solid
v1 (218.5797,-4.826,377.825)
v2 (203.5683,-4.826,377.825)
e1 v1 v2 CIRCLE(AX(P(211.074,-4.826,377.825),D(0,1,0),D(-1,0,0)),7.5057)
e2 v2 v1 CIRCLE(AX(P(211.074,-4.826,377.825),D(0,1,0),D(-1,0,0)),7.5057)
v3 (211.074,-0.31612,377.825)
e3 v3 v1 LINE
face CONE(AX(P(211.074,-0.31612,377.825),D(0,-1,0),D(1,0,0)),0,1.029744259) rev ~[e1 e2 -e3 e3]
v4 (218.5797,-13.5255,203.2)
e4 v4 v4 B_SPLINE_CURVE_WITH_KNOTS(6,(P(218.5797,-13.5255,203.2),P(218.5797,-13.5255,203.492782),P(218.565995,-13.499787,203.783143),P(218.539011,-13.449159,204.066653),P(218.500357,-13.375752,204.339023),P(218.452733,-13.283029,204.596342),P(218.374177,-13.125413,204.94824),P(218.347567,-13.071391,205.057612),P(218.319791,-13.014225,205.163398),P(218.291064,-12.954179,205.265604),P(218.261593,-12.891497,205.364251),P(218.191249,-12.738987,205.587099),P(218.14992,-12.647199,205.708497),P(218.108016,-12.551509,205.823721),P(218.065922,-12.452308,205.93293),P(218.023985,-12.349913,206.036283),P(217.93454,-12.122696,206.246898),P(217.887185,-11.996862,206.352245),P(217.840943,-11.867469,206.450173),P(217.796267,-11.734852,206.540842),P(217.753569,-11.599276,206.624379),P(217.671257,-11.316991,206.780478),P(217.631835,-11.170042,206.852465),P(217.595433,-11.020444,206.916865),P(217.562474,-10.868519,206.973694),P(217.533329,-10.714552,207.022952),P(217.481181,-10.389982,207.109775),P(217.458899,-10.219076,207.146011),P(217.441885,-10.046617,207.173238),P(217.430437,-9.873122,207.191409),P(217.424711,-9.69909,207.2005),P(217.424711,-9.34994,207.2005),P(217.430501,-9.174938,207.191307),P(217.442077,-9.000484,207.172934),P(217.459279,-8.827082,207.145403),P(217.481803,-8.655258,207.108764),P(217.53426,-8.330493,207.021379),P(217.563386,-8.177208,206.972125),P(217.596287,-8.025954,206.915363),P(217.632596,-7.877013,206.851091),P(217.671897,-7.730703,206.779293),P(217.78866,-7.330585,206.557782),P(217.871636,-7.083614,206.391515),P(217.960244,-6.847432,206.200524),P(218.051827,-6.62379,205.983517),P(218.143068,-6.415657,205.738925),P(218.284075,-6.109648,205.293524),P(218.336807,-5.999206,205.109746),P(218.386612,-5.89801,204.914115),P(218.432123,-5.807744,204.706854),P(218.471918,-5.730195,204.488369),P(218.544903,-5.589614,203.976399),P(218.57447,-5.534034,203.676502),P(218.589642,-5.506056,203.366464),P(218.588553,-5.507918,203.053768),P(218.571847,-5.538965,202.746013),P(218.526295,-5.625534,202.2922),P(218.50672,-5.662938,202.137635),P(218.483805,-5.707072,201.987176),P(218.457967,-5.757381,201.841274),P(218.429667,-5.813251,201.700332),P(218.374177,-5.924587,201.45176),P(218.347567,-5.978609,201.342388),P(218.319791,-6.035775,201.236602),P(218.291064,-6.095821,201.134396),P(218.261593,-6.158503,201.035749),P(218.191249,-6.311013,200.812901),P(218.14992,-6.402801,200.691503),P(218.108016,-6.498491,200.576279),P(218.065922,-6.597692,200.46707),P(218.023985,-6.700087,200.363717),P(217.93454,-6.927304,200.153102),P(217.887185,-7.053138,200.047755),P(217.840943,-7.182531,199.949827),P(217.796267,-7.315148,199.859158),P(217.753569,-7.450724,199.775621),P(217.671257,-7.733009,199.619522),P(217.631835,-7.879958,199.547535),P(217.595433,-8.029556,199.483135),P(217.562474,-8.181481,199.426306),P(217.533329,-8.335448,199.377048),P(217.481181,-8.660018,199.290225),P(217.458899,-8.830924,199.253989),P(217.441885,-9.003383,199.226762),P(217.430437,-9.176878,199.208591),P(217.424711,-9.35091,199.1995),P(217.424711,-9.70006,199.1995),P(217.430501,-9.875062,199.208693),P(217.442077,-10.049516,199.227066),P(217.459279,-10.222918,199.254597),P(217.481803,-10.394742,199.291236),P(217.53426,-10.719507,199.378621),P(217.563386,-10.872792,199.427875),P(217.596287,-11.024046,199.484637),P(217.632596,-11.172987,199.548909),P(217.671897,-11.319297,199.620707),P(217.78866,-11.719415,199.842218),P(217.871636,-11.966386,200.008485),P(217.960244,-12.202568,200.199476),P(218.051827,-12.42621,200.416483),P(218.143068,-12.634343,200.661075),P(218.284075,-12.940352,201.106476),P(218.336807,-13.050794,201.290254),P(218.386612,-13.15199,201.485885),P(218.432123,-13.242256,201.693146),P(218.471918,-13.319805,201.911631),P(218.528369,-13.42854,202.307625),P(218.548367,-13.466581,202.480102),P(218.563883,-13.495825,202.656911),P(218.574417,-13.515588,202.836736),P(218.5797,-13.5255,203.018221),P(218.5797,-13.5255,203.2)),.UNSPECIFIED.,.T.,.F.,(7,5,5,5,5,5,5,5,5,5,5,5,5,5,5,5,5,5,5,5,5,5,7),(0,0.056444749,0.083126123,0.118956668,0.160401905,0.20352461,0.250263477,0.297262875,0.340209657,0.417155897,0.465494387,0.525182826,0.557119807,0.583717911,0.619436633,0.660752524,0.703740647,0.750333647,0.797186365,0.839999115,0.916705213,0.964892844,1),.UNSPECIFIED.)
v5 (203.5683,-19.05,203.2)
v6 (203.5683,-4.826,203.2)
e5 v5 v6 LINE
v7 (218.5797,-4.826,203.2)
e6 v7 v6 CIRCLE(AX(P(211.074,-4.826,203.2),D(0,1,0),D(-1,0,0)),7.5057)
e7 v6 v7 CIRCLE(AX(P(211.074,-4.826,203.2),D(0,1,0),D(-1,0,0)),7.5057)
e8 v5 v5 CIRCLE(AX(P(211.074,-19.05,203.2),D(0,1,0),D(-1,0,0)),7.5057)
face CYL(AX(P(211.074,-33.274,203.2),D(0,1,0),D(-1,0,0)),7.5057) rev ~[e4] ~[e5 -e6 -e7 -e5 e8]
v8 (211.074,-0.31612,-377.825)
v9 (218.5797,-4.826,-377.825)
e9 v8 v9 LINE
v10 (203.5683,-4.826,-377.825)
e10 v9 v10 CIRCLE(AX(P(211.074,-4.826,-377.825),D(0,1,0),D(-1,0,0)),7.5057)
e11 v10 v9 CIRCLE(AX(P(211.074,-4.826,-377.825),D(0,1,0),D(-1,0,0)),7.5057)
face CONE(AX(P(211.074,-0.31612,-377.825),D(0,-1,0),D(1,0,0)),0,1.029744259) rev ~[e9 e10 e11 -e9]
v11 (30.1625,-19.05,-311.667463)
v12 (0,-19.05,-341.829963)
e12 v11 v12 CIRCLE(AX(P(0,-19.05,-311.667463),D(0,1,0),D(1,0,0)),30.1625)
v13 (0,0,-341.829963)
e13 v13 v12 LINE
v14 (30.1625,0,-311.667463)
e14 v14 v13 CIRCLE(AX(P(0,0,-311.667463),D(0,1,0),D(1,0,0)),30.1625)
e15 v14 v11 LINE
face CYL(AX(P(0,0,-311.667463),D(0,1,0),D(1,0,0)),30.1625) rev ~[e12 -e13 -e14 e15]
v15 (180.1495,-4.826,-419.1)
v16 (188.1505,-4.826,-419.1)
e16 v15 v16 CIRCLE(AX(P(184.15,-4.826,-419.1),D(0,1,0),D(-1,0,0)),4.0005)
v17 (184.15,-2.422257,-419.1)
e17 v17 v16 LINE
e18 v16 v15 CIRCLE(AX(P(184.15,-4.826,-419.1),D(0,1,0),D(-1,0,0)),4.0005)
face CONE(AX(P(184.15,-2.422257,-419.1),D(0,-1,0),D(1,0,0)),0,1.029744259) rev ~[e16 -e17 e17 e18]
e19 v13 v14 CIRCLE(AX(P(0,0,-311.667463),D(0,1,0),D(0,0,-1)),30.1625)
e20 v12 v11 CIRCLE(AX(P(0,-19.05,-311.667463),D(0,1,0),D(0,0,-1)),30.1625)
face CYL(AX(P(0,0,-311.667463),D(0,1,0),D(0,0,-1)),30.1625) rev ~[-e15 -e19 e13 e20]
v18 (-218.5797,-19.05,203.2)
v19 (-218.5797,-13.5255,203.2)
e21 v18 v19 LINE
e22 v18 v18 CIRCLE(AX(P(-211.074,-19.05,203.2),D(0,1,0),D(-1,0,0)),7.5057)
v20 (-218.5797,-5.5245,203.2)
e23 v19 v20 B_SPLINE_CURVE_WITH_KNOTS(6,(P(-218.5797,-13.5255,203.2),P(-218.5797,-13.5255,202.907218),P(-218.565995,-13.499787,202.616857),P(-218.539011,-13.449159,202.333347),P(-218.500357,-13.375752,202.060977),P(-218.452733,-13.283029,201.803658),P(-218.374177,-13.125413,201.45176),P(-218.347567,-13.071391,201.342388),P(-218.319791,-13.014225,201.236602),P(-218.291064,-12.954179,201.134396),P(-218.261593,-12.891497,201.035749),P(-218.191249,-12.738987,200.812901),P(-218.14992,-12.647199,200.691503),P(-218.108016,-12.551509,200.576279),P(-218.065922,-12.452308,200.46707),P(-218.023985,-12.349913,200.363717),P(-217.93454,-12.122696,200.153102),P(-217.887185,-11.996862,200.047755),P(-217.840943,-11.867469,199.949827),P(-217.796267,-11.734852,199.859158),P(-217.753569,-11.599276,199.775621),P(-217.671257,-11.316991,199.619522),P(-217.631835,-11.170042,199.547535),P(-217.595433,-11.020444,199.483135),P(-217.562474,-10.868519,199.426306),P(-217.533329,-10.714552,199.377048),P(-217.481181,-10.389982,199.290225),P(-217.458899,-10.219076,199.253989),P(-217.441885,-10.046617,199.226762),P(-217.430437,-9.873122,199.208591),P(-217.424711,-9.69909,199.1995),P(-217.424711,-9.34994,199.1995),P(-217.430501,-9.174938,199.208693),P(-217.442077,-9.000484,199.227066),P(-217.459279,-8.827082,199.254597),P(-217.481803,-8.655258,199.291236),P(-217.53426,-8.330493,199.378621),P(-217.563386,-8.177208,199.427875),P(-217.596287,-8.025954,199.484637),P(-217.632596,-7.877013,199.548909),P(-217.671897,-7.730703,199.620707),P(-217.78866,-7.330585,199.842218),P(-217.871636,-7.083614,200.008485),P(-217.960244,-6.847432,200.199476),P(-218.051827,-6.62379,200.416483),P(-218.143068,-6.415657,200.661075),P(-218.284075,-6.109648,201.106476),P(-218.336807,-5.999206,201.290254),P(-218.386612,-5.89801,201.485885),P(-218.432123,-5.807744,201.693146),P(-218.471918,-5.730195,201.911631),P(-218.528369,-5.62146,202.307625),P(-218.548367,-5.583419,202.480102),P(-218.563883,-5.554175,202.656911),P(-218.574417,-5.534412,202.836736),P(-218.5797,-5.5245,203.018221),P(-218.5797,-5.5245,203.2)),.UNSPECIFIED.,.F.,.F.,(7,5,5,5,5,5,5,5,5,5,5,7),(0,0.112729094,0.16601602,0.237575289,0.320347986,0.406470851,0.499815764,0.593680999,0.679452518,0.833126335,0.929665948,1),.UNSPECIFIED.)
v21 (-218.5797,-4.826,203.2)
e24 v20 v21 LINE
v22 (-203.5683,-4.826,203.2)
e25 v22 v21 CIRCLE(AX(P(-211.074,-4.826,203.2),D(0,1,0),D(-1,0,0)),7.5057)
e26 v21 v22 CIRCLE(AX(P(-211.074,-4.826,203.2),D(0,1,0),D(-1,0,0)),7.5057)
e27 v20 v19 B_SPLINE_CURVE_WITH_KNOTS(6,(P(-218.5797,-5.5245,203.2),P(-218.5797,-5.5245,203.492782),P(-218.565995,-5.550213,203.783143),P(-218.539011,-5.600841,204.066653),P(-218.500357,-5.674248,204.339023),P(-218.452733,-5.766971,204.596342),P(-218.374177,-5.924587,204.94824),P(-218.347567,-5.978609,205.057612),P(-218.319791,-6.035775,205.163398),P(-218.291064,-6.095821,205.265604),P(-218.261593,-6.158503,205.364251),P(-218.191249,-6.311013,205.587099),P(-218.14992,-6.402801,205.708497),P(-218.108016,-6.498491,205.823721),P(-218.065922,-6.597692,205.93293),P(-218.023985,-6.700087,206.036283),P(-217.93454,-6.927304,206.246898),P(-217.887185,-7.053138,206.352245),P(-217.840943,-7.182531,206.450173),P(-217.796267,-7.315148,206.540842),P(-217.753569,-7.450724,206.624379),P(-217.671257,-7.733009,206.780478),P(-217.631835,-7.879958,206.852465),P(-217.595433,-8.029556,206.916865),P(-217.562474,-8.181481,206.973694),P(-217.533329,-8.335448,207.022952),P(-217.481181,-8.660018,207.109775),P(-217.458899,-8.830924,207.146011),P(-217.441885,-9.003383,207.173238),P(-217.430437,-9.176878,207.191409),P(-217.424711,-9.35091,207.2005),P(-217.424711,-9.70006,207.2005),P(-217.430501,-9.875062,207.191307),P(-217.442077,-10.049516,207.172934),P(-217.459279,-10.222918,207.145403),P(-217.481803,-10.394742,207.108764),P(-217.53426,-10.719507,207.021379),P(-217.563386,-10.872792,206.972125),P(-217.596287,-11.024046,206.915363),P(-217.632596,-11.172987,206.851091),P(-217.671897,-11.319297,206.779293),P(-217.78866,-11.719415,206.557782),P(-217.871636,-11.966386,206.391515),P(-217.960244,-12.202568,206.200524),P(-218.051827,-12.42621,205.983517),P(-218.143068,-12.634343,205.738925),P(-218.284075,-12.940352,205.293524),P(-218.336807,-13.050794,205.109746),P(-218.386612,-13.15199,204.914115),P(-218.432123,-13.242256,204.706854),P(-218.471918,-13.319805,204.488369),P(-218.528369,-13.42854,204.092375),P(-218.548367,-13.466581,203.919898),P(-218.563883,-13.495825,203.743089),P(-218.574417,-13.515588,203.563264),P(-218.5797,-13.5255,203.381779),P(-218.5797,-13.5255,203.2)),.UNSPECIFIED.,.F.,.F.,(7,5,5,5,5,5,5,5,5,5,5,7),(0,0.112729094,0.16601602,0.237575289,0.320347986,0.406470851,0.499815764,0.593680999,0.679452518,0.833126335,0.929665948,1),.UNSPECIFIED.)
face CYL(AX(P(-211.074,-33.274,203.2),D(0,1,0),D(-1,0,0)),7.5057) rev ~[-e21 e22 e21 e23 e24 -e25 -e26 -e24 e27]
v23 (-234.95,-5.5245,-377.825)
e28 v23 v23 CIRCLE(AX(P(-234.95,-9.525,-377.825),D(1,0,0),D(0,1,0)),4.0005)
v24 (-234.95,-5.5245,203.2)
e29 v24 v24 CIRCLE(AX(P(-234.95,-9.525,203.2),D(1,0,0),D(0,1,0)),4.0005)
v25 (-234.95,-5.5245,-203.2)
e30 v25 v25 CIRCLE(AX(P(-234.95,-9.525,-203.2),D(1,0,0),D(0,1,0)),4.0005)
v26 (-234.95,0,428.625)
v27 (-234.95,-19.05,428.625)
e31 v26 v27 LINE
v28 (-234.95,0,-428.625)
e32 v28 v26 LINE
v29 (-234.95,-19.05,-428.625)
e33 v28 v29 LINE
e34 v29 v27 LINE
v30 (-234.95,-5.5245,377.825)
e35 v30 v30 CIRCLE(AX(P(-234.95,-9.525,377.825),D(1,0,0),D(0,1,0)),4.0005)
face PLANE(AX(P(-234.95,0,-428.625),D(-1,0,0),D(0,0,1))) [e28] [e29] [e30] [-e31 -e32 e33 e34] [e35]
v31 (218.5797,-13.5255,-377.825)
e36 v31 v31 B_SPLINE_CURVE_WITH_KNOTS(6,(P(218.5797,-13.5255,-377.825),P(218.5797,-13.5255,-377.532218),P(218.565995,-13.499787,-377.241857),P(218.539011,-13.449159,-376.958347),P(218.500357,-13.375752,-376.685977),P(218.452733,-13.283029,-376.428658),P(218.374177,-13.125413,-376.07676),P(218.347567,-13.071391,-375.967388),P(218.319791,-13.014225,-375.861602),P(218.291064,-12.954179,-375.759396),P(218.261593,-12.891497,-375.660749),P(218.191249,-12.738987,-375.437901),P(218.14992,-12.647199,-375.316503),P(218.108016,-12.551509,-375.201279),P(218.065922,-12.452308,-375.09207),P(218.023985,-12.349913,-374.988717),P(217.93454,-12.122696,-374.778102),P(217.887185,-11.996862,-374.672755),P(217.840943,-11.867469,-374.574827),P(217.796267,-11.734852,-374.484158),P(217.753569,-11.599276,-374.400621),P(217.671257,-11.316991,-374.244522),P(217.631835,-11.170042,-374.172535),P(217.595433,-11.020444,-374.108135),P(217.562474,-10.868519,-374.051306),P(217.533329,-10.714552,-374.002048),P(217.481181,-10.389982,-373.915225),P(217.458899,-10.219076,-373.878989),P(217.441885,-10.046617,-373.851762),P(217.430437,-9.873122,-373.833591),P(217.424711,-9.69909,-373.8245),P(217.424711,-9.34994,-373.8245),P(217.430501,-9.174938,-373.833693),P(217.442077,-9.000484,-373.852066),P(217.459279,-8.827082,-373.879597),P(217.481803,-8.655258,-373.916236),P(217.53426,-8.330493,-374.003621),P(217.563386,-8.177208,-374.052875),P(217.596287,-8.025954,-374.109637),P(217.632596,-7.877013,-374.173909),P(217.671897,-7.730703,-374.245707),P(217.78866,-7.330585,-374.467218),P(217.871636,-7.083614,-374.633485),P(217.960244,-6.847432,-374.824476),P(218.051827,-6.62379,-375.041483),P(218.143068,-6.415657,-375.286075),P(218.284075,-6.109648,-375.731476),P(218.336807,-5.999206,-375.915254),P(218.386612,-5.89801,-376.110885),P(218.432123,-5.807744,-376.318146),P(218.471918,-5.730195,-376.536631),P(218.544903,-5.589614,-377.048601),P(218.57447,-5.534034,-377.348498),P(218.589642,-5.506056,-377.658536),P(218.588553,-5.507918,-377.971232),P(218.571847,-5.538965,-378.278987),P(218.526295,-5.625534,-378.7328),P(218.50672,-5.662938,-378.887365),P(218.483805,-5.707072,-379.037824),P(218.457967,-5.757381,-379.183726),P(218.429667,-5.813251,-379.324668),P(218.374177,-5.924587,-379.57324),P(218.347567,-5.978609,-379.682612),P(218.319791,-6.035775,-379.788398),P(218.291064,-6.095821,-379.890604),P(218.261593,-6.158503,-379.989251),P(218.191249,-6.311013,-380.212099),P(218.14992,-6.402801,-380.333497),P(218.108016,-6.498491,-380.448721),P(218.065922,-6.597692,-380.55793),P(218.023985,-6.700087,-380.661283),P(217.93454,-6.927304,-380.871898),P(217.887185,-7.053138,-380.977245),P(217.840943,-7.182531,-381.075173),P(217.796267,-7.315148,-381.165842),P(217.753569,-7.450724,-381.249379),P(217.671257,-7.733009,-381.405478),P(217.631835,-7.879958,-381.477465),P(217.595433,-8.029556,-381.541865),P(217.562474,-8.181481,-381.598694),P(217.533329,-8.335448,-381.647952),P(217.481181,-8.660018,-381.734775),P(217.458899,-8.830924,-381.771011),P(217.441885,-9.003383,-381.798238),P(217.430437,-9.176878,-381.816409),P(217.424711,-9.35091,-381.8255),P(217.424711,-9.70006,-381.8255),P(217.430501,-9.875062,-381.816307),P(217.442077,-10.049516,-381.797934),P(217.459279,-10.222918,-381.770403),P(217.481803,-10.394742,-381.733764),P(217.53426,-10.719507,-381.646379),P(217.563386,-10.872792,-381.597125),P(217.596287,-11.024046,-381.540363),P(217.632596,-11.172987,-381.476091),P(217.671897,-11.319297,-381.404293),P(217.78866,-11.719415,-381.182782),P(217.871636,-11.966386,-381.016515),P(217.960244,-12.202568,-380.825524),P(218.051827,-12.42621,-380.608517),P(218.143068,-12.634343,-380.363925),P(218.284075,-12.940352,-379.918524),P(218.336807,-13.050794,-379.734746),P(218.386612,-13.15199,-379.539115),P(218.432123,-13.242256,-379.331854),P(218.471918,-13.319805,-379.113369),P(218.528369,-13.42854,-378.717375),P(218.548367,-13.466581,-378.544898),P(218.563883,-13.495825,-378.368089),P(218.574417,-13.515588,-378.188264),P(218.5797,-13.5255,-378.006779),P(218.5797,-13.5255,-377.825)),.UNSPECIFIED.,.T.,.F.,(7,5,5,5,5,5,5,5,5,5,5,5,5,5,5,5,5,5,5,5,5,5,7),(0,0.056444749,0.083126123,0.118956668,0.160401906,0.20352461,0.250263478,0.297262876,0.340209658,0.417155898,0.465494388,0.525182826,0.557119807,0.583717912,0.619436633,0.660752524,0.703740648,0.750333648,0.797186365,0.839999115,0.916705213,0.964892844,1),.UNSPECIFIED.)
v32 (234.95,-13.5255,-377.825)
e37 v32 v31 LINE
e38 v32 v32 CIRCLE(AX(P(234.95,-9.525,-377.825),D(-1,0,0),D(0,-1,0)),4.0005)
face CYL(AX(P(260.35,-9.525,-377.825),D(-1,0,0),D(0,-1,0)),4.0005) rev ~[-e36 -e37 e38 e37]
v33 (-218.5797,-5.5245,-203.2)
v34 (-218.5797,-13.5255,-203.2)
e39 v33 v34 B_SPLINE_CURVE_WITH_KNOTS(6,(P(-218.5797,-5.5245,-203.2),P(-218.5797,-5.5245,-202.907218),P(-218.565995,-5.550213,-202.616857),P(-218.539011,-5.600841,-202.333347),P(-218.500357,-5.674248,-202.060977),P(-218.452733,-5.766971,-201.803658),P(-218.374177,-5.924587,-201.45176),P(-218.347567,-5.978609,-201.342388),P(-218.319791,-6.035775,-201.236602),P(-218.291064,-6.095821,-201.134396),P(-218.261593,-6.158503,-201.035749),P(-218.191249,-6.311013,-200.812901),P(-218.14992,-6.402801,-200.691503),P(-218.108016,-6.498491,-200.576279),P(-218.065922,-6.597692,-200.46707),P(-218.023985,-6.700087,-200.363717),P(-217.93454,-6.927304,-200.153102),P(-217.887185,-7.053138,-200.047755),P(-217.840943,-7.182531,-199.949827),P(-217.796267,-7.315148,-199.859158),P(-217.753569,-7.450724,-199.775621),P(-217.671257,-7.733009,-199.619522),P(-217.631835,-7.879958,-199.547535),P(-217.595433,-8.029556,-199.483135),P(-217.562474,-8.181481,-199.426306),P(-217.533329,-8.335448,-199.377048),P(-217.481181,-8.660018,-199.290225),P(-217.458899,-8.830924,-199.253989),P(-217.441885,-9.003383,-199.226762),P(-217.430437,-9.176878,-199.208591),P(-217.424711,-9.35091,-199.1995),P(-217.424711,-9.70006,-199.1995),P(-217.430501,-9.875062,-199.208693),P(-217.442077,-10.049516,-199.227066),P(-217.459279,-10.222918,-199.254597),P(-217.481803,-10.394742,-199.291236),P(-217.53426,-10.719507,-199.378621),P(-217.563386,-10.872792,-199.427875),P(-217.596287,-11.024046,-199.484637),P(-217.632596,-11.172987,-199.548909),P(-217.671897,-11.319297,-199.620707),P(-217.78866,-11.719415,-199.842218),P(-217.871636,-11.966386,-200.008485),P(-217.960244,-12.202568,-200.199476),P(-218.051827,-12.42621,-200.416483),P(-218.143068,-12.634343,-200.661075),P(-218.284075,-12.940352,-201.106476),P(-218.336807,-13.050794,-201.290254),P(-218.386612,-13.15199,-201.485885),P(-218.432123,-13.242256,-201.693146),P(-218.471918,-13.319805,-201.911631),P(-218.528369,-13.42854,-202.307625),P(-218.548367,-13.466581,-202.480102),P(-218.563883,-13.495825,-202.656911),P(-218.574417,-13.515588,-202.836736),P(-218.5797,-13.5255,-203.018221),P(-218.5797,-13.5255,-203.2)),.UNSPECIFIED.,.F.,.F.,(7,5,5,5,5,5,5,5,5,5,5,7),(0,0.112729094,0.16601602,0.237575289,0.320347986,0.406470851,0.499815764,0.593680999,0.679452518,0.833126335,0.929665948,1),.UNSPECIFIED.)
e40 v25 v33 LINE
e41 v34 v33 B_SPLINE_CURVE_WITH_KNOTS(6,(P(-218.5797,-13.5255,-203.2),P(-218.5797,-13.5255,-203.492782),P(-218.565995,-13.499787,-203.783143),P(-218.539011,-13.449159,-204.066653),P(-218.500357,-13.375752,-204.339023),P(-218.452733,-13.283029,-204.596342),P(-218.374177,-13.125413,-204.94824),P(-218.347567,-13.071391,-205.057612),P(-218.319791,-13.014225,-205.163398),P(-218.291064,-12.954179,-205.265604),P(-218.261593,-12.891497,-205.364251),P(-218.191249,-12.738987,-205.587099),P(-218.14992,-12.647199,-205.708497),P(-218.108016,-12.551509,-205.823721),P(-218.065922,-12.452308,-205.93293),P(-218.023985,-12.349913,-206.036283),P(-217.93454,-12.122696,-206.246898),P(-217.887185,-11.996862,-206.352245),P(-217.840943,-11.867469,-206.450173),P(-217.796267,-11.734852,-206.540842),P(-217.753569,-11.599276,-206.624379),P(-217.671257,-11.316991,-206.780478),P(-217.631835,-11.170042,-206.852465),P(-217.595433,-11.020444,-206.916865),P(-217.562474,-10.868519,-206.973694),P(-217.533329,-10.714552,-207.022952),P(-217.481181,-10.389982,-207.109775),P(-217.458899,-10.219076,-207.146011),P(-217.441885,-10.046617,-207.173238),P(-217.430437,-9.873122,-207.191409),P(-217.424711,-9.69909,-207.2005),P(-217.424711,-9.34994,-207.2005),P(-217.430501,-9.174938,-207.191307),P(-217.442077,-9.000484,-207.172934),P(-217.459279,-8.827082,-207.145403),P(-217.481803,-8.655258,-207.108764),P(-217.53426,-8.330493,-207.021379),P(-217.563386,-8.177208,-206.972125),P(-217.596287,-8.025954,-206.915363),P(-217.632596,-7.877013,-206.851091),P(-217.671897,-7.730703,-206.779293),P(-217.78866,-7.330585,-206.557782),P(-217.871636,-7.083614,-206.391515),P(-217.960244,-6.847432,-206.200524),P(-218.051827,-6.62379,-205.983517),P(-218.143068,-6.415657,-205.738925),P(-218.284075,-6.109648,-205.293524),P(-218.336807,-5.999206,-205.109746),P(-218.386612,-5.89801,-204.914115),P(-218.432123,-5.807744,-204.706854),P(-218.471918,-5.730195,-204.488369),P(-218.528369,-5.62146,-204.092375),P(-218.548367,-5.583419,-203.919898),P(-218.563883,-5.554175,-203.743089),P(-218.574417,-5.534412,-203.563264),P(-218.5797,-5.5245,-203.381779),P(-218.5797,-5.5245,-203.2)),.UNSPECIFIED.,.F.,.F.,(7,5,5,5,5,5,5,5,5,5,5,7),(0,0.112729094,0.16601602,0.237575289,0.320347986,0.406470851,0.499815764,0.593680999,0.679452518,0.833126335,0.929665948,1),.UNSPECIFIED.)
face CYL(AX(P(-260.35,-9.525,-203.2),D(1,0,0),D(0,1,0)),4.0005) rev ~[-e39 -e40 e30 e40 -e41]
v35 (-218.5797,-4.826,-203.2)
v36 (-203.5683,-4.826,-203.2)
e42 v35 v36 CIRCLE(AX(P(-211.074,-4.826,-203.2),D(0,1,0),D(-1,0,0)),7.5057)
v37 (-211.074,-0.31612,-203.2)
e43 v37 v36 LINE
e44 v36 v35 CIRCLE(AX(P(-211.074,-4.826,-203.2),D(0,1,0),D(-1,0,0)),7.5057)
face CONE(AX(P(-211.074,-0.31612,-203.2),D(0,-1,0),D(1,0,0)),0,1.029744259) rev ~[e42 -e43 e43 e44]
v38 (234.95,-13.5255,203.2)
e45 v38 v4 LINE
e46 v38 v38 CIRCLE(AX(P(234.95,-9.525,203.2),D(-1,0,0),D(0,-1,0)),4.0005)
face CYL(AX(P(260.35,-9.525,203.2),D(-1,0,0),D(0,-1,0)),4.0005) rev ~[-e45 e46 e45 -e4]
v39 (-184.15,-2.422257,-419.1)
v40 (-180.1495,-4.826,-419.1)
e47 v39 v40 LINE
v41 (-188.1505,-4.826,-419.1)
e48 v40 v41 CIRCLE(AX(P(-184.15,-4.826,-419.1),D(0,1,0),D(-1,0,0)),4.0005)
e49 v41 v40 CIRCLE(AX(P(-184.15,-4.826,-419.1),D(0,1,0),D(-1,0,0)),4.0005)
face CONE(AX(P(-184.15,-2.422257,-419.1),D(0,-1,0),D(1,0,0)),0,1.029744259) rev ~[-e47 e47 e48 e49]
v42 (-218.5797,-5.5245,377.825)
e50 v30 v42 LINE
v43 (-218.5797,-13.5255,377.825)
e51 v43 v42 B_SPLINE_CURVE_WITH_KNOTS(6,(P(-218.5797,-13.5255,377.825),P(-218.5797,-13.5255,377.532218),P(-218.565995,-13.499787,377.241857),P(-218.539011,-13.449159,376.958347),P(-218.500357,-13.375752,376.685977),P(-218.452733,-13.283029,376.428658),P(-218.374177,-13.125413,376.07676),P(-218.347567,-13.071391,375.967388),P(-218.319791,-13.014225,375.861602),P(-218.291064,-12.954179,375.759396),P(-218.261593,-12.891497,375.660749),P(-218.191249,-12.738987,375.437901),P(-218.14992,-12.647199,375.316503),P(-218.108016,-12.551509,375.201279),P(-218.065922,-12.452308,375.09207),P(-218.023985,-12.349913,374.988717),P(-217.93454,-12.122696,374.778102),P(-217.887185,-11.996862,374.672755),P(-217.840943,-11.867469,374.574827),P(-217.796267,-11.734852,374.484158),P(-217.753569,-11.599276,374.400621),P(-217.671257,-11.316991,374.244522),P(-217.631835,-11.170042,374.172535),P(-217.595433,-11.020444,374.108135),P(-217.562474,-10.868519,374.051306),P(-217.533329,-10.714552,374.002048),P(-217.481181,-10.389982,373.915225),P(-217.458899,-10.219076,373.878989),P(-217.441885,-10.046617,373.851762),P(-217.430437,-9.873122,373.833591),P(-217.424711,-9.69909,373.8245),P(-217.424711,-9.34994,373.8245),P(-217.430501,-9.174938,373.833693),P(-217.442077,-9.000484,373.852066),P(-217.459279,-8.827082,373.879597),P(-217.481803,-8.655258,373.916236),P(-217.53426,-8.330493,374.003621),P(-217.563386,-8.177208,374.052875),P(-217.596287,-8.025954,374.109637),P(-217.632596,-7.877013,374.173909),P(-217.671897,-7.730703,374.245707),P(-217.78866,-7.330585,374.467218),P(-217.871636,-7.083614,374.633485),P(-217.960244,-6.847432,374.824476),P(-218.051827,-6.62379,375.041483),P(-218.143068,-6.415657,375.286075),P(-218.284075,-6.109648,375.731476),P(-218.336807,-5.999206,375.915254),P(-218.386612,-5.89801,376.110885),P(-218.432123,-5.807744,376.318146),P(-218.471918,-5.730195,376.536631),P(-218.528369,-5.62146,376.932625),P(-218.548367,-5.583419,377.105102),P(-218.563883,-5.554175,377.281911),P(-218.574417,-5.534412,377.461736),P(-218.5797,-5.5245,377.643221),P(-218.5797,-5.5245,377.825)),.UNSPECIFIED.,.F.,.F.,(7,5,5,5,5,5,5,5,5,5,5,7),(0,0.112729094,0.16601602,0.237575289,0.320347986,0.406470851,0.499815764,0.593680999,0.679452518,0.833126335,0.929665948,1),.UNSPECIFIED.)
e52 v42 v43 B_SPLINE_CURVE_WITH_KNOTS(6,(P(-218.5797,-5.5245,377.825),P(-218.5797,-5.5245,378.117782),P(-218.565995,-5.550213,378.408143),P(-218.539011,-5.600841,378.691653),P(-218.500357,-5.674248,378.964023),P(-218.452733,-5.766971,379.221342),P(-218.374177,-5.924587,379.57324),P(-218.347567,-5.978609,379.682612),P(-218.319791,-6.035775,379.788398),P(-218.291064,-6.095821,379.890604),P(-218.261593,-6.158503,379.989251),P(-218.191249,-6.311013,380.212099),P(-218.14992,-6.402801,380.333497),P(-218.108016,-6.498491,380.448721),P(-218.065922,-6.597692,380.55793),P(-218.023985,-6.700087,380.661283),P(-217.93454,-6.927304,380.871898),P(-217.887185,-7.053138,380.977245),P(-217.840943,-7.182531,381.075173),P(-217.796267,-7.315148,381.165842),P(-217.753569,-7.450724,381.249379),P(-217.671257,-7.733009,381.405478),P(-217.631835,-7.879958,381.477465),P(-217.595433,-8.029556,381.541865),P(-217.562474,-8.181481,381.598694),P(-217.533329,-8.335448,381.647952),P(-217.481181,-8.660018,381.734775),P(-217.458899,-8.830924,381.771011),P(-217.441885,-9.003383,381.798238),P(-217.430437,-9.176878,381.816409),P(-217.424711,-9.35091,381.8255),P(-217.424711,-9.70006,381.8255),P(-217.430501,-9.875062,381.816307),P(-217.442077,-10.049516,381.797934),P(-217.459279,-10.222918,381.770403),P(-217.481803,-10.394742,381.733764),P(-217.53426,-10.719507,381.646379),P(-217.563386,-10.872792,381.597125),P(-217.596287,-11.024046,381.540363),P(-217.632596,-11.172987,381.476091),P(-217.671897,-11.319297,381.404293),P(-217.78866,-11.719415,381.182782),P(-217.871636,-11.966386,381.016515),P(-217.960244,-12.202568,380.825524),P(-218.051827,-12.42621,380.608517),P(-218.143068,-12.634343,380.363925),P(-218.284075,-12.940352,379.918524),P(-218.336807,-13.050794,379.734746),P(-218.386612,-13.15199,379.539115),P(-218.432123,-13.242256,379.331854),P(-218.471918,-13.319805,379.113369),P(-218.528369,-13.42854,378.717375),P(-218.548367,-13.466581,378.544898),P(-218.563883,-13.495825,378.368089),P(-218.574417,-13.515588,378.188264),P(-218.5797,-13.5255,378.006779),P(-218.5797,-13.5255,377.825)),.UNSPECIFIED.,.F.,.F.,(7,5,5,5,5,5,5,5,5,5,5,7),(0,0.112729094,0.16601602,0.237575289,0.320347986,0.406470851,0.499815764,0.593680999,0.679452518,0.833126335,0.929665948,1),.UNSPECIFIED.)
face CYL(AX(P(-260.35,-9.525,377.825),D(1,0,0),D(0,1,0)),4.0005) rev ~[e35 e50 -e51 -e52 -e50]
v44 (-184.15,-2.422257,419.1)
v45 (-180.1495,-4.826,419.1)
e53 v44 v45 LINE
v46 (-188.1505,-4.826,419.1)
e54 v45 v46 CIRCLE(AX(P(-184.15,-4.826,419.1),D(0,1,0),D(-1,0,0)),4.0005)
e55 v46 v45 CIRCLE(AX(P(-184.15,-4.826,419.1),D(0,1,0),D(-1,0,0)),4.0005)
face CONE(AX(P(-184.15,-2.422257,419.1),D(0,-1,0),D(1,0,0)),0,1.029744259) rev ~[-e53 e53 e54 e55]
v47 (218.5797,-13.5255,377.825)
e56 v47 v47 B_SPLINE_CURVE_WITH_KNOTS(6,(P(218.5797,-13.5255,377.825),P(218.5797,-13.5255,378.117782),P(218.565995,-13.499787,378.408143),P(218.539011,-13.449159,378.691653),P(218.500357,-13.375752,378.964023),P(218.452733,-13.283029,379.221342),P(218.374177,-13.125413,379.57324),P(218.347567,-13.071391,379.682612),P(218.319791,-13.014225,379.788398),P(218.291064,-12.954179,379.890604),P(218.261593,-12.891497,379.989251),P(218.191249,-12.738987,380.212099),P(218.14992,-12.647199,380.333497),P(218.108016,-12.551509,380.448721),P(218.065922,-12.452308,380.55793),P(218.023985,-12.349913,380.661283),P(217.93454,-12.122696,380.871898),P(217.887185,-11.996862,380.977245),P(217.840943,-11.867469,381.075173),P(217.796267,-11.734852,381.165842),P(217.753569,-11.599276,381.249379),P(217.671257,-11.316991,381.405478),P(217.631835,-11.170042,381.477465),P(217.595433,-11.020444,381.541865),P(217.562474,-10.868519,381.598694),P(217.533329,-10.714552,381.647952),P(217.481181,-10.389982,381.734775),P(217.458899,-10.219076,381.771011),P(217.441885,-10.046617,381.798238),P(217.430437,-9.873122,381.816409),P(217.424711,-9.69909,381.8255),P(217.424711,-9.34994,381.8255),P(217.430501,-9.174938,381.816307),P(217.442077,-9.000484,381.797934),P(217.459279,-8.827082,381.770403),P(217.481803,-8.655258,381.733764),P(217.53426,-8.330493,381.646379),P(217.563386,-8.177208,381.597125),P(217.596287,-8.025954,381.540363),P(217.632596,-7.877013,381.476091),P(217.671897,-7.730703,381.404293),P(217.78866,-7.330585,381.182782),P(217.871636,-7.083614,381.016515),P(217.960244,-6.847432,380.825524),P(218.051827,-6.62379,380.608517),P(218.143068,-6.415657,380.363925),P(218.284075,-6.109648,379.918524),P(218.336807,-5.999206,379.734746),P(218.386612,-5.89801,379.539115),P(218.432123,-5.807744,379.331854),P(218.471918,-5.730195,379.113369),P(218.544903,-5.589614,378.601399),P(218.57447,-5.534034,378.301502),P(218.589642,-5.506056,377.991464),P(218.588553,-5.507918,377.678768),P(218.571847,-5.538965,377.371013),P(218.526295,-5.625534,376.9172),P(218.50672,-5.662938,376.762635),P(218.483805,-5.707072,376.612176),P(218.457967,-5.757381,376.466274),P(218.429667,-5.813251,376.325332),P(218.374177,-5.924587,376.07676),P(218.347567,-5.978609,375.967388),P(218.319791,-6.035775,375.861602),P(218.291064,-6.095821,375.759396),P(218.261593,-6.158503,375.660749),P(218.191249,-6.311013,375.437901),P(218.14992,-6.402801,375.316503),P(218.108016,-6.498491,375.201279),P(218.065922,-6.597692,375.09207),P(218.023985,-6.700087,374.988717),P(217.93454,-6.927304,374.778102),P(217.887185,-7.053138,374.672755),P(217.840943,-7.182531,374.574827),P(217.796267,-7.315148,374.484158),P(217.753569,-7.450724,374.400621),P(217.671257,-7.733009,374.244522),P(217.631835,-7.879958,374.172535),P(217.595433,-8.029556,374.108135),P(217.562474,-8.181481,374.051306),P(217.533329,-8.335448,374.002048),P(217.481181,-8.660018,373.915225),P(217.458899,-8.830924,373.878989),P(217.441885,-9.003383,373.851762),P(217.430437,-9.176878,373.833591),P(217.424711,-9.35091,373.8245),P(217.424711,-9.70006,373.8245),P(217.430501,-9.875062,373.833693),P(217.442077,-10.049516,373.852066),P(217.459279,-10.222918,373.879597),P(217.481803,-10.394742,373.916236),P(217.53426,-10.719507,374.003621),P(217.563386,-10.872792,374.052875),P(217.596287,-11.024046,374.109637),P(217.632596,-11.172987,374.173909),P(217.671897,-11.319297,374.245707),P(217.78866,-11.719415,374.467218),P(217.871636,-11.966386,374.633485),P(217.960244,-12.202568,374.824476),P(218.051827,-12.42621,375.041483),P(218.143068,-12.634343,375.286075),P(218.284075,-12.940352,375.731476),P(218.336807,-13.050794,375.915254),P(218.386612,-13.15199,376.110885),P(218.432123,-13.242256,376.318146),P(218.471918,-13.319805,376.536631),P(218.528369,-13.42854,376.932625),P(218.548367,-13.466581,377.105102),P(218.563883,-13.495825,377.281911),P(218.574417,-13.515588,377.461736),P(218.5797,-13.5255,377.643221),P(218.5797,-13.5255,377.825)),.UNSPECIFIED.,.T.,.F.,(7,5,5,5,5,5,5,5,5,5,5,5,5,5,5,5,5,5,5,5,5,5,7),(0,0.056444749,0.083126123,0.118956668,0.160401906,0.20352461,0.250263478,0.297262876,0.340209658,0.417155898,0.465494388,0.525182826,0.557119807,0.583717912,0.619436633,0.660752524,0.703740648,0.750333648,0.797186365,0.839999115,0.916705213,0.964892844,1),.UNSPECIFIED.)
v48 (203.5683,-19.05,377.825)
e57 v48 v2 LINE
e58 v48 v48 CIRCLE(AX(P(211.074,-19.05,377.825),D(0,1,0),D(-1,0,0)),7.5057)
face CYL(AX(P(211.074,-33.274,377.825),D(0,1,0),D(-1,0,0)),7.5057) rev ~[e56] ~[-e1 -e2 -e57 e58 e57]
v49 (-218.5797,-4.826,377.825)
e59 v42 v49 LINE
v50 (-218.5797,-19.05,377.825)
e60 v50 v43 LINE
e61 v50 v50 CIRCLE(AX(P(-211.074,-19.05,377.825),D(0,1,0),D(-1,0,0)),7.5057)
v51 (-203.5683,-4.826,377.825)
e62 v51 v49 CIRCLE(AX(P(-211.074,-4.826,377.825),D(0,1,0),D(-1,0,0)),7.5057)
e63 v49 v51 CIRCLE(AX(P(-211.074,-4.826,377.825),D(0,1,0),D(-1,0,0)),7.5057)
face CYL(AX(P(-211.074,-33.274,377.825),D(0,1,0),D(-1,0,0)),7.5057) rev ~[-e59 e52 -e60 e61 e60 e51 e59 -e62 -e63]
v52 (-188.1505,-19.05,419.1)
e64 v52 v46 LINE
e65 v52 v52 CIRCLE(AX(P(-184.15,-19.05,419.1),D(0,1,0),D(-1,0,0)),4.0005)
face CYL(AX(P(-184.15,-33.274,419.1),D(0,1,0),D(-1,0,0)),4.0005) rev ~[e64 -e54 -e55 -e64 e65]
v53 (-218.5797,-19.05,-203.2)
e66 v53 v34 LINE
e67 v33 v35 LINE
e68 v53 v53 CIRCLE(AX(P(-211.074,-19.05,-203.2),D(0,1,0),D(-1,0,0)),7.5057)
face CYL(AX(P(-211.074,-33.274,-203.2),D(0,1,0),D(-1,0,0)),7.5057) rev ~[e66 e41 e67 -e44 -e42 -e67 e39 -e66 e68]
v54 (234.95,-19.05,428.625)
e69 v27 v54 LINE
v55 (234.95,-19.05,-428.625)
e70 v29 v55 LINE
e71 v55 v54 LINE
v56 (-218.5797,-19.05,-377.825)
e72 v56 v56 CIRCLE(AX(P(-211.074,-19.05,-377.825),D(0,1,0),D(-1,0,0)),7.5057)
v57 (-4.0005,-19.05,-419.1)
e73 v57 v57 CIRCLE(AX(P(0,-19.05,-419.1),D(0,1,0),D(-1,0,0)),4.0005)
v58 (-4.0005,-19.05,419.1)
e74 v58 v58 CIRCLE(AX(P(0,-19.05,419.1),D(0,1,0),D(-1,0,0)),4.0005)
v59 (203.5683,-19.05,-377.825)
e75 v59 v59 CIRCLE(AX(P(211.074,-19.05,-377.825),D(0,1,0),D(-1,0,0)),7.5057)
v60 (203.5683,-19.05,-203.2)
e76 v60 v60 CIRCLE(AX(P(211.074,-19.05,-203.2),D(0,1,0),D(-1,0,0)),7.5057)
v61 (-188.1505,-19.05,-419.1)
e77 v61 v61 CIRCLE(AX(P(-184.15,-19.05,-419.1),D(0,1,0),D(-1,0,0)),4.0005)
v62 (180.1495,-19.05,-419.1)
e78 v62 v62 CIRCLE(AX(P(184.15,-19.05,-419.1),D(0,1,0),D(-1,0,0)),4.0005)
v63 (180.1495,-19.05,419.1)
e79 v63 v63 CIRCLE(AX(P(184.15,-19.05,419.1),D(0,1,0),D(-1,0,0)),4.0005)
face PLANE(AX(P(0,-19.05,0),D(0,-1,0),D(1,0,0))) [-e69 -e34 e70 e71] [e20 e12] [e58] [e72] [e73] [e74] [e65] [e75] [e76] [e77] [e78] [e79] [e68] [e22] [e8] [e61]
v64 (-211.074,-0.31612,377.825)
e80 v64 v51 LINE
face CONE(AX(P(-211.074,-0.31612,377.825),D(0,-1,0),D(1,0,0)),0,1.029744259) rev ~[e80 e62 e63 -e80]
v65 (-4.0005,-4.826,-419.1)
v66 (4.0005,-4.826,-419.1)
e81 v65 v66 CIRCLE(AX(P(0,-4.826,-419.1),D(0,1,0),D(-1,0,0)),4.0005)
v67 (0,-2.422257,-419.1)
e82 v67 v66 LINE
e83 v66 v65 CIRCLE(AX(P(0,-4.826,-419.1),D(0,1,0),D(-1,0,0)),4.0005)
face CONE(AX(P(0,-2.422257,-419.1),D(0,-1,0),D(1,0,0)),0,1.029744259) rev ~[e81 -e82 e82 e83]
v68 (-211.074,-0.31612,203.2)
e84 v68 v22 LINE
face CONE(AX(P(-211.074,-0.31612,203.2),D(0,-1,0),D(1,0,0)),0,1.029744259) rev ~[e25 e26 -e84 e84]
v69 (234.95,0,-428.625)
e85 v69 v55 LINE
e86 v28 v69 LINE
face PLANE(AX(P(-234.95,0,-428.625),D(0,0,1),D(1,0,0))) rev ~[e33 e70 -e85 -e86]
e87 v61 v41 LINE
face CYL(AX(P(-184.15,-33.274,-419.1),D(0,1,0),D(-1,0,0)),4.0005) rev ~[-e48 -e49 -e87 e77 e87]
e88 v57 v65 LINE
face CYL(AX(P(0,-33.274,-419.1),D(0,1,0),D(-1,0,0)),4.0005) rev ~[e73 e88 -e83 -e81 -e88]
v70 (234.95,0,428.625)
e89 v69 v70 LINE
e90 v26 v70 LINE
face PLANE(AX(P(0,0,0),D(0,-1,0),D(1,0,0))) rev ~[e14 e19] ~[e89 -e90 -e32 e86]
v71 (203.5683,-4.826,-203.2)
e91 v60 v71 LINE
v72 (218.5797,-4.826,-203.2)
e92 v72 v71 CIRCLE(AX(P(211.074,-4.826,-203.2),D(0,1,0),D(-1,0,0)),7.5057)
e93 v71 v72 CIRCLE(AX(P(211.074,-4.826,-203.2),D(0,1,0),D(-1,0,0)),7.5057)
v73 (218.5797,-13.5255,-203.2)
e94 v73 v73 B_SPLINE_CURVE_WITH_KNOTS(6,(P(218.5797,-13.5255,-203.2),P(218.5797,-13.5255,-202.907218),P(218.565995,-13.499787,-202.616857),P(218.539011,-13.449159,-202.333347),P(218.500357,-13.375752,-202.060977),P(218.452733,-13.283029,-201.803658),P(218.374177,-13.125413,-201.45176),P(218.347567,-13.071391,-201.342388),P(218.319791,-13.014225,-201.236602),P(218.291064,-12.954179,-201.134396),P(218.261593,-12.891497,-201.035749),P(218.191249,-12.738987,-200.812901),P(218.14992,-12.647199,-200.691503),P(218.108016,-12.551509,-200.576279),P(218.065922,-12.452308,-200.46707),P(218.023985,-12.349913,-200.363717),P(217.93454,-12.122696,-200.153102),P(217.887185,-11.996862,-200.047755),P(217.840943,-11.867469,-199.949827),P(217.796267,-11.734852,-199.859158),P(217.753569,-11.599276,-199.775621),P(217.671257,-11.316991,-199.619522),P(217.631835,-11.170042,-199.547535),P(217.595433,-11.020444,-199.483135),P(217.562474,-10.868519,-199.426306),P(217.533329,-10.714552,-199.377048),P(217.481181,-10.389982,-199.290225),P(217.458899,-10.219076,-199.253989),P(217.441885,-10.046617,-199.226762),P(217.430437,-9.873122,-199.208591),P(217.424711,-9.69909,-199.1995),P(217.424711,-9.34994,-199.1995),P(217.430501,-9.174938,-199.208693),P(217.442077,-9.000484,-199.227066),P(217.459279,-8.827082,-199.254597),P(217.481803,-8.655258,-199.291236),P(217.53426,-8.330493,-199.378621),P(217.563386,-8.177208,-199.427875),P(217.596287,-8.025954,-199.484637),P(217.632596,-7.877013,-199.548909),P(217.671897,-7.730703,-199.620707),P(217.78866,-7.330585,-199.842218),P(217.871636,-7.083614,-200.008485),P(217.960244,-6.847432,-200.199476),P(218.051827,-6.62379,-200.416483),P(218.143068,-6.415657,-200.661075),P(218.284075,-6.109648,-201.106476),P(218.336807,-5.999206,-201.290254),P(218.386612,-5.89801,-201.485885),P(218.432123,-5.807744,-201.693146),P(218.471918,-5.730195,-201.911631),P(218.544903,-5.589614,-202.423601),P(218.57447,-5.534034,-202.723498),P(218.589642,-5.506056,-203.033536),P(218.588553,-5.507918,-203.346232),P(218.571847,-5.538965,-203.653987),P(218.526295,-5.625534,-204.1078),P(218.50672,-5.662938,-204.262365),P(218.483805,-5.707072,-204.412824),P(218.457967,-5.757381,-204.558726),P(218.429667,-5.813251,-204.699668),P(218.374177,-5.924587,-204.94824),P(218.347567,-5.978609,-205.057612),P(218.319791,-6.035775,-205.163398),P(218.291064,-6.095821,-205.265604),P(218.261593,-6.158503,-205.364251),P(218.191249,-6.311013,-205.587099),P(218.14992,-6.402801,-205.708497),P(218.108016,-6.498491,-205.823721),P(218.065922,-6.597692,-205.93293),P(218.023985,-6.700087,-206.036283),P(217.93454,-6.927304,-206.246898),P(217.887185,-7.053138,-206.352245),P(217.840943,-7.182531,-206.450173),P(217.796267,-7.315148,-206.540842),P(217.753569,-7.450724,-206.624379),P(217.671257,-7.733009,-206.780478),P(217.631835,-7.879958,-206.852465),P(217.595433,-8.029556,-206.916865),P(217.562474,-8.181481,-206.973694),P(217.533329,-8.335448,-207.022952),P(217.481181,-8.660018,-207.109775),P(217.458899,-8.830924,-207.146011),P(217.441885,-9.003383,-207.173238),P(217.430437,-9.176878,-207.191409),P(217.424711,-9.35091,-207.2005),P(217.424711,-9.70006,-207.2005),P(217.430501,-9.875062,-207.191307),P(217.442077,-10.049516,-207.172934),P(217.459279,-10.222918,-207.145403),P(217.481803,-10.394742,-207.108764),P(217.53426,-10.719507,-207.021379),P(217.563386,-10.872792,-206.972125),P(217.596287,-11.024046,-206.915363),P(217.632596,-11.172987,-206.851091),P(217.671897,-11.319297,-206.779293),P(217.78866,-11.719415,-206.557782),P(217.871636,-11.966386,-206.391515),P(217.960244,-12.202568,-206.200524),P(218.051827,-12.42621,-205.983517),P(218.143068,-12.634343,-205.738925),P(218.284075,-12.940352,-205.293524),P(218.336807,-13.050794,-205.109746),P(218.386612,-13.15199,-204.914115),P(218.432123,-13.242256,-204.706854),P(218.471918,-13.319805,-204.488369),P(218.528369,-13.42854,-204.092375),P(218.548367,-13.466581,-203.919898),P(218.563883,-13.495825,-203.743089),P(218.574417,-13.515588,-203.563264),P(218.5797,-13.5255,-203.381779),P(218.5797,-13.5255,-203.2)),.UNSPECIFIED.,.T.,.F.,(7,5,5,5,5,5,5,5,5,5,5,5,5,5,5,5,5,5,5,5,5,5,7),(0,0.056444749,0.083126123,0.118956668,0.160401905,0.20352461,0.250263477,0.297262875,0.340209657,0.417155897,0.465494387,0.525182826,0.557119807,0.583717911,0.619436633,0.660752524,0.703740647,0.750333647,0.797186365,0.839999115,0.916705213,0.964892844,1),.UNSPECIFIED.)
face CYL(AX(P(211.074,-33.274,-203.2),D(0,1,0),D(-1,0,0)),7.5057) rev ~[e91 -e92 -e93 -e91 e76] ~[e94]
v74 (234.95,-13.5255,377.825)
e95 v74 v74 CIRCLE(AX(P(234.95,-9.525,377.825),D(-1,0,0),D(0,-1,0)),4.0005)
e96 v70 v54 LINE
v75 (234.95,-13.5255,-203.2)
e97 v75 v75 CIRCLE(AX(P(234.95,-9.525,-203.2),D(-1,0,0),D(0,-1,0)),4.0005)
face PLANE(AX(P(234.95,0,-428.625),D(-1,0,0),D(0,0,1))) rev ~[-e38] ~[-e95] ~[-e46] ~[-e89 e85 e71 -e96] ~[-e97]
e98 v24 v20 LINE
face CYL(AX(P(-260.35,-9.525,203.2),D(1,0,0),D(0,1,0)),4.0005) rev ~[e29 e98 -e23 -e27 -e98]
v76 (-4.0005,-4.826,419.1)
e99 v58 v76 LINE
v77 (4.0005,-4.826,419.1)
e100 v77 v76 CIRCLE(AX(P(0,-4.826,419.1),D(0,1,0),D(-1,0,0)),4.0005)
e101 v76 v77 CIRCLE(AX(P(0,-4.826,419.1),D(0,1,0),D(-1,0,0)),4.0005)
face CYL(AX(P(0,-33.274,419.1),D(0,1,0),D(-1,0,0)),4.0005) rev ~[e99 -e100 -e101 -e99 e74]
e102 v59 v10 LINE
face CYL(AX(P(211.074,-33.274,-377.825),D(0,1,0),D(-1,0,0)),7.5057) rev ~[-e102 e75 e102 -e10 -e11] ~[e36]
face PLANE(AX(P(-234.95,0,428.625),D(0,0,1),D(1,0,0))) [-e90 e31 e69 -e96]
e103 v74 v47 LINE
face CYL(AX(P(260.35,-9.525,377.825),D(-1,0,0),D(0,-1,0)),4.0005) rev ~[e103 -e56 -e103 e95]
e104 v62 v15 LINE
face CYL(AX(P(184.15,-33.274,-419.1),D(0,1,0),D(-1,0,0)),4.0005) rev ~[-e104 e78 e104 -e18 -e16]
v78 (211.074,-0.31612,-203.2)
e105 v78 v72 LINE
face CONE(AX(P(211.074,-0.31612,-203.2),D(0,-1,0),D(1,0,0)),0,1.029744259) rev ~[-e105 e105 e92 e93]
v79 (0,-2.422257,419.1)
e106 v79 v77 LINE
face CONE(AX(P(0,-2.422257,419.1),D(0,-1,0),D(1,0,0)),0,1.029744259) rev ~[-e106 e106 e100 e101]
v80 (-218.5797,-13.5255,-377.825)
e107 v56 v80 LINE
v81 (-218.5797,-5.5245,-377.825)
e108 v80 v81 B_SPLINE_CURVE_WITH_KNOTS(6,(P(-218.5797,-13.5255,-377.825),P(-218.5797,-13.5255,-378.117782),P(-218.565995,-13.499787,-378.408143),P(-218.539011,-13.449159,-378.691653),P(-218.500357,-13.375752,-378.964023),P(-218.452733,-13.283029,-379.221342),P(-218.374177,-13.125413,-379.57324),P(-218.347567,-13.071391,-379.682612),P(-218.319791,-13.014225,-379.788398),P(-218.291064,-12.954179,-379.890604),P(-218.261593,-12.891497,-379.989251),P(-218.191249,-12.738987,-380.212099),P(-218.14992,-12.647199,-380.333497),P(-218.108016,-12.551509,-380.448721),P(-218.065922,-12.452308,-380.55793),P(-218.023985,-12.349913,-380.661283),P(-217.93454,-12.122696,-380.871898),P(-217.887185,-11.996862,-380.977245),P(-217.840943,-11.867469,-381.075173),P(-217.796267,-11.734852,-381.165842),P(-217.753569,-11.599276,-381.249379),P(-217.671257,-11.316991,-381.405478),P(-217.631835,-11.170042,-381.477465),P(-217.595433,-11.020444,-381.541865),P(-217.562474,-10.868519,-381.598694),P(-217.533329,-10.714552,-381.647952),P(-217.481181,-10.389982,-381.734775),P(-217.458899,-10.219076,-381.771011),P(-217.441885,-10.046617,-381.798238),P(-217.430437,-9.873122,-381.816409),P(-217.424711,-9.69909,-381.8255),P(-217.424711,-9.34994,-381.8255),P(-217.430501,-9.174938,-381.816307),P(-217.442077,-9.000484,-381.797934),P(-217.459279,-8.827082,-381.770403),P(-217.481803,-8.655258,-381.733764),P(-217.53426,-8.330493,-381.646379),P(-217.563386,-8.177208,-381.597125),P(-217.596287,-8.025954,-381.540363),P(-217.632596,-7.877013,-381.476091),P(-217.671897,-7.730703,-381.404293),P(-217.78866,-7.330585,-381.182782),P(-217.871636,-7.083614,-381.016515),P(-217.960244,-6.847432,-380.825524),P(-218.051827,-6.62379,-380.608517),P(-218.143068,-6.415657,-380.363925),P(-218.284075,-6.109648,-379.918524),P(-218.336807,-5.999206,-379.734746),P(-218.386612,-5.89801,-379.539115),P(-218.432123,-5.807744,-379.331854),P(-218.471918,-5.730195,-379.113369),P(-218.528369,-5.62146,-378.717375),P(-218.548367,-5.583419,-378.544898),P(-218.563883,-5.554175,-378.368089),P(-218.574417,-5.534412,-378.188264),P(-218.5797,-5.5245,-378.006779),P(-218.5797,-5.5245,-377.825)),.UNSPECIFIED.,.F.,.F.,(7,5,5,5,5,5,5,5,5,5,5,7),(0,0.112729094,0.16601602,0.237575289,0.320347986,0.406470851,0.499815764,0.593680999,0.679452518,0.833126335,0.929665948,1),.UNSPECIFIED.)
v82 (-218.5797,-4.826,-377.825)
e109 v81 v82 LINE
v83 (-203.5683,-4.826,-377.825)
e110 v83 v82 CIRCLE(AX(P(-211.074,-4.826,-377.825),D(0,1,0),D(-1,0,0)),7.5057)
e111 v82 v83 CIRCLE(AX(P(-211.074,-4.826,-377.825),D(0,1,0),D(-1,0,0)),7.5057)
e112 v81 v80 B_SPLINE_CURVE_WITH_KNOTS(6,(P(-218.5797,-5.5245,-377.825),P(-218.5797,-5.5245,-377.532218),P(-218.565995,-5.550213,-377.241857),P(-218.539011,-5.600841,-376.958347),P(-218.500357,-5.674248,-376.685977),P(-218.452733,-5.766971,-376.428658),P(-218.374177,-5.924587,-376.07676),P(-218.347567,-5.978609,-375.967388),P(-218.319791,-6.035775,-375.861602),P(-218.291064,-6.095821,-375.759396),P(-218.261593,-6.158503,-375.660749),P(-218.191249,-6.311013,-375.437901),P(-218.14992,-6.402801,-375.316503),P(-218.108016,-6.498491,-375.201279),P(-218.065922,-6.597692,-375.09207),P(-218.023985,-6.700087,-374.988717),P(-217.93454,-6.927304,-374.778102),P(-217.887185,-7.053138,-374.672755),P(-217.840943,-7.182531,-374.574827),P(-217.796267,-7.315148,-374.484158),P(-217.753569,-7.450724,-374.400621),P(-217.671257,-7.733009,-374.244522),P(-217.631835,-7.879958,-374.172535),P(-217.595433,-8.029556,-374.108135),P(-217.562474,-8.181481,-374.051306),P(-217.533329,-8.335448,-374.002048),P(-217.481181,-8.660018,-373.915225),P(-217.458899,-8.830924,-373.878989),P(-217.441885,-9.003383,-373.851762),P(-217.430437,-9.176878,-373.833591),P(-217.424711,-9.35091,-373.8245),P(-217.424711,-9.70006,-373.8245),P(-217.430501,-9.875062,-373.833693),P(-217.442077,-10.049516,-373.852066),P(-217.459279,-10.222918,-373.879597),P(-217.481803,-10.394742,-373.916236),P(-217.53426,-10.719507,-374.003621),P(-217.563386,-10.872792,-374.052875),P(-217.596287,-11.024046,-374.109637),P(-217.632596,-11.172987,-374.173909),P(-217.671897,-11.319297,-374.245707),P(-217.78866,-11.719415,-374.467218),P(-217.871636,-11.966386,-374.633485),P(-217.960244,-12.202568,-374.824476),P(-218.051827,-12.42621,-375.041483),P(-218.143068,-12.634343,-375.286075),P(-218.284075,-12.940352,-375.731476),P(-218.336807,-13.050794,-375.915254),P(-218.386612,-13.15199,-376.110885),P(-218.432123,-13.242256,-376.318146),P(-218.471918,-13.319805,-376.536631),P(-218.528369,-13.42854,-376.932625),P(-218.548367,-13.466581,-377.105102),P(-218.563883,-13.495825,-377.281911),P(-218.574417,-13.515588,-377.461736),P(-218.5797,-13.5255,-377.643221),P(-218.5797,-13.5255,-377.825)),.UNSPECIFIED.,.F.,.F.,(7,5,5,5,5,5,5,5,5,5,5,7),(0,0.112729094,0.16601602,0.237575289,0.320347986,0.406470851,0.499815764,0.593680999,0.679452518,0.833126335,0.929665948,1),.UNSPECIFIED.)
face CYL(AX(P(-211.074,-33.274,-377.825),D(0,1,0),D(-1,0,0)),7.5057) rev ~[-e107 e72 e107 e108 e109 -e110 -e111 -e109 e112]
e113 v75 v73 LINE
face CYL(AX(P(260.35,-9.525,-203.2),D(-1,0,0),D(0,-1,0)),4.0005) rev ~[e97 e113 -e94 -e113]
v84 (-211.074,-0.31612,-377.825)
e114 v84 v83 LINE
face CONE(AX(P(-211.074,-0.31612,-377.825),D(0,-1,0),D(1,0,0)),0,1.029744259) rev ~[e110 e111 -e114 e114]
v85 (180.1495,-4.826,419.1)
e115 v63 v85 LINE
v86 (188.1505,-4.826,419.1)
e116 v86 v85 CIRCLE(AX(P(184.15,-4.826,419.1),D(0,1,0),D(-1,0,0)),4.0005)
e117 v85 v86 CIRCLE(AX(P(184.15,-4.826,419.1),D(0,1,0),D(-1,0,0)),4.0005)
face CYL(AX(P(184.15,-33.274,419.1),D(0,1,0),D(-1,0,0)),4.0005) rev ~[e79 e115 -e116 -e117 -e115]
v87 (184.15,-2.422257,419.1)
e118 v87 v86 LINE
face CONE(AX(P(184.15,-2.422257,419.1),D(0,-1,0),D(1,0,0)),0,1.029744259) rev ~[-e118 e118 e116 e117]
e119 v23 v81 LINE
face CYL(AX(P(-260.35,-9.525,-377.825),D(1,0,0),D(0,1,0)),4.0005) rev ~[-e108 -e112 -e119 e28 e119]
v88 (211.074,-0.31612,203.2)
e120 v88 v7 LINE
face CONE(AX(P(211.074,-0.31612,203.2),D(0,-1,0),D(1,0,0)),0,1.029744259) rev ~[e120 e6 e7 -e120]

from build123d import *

# Parameters (mm, degrees)
F0_W     = 469.9
F0_H     = 857.25
F1_DEPTH = 19.05
F3_D     = 8.001
F3_DEPTH = 14.224
F3_TIP   = 2.4037429064
F5_D     = 15.0114
F5_DEPTH = 14.224
F5_TIP   = 4.5098795482
F7_D     = 8.001
F7_DEPTH = 25.4
F7_TIP   = 2.4037429064
F9_D     = 8.001
F9_DEPTH = 25.4
F9_TIP   = 2.4037429064


with BuildPart() as f1:
    # F0 (on Front) → F1 (new body)
    with BuildSketch(Plane.XZ):
        Rectangle(F0_W, F0_H)
        with BuildLine():
            ThreePointArc((0, -341.8299634457), (-21.3281082875, -290.3393551581), (30.1625, -311.6674634457))
            ThreePointArc((30.1625, -311.6674634457), (21.3281082875, -332.9955717332), (0, -341.8299634457))
        make_face(mode=Mode.SUBTRACT)
    extrude(amount=F1_DEPTH)

    # F3
    with Locations(Plane.XZ.offset(19.05)):
        with Locations((-184.15, 419.1), (0, 419.1), (184.15, 419.1), (-184.15, -419.1), (0, -419.1), (184.15, -419.1)):
            Hole(F3_D / 2, depth=F3_DEPTH)
            with Locations((0, 0, -(F3_DEPTH + F3_TIP / 2))):  # 118° drill point
                Cone(0, F3_D / 2, F3_TIP, mode=Mode.SUBTRACT)

    # F5
    with Locations(Plane.XZ.offset(19.05)):
        with Locations((-211.074, 377.825), (211.074, 377.825), (211.074, 203.2), (-211.074, 203.2), (-211.074, -203.2), (211.074, -203.2), (211.074, -377.825), (-211.074, -377.825)):
            Hole(F5_D / 2, depth=F5_DEPTH)
            with Locations((0, 0, -(F5_DEPTH + F5_TIP / 2))):  # 118° drill point
                Cone(0, F5_D / 2, F5_TIP, mode=Mode.SUBTRACT)

    # F7
    with Locations(Plane.YZ.offset(234.95)):
        with Locations((-9.525, 377.825), (-9.525, 203.2), (-9.525, -203.2), (-9.525, -377.825)):
            Hole(F7_D / 2, depth=F7_DEPTH)
            with Locations((0, 0, -(F7_DEPTH + F7_TIP / 2))):  # 118° drill point
                Cone(0, F7_D / 2, F7_TIP, mode=Mode.SUBTRACT)

    # F9
    with Locations(Plane(origin=(-234.95, 0, 0), x_dir=(0, -1, 0), z_dir=(-1, 0, 0))):
        with Locations((9.525, 377.825), (9.525, 203.2), (9.525, -203.2), (9.525, -377.825)):
            Hole(F9_D / 2, depth=F9_DEPTH)
            with Locations((0, 0, -(F9_DEPTH + F9_TIP / 2))):  # 118° drill point
                Cone(0, F9_D / 2, F9_TIP, mode=Mode.SUBTRACT)


solid = f1.part
